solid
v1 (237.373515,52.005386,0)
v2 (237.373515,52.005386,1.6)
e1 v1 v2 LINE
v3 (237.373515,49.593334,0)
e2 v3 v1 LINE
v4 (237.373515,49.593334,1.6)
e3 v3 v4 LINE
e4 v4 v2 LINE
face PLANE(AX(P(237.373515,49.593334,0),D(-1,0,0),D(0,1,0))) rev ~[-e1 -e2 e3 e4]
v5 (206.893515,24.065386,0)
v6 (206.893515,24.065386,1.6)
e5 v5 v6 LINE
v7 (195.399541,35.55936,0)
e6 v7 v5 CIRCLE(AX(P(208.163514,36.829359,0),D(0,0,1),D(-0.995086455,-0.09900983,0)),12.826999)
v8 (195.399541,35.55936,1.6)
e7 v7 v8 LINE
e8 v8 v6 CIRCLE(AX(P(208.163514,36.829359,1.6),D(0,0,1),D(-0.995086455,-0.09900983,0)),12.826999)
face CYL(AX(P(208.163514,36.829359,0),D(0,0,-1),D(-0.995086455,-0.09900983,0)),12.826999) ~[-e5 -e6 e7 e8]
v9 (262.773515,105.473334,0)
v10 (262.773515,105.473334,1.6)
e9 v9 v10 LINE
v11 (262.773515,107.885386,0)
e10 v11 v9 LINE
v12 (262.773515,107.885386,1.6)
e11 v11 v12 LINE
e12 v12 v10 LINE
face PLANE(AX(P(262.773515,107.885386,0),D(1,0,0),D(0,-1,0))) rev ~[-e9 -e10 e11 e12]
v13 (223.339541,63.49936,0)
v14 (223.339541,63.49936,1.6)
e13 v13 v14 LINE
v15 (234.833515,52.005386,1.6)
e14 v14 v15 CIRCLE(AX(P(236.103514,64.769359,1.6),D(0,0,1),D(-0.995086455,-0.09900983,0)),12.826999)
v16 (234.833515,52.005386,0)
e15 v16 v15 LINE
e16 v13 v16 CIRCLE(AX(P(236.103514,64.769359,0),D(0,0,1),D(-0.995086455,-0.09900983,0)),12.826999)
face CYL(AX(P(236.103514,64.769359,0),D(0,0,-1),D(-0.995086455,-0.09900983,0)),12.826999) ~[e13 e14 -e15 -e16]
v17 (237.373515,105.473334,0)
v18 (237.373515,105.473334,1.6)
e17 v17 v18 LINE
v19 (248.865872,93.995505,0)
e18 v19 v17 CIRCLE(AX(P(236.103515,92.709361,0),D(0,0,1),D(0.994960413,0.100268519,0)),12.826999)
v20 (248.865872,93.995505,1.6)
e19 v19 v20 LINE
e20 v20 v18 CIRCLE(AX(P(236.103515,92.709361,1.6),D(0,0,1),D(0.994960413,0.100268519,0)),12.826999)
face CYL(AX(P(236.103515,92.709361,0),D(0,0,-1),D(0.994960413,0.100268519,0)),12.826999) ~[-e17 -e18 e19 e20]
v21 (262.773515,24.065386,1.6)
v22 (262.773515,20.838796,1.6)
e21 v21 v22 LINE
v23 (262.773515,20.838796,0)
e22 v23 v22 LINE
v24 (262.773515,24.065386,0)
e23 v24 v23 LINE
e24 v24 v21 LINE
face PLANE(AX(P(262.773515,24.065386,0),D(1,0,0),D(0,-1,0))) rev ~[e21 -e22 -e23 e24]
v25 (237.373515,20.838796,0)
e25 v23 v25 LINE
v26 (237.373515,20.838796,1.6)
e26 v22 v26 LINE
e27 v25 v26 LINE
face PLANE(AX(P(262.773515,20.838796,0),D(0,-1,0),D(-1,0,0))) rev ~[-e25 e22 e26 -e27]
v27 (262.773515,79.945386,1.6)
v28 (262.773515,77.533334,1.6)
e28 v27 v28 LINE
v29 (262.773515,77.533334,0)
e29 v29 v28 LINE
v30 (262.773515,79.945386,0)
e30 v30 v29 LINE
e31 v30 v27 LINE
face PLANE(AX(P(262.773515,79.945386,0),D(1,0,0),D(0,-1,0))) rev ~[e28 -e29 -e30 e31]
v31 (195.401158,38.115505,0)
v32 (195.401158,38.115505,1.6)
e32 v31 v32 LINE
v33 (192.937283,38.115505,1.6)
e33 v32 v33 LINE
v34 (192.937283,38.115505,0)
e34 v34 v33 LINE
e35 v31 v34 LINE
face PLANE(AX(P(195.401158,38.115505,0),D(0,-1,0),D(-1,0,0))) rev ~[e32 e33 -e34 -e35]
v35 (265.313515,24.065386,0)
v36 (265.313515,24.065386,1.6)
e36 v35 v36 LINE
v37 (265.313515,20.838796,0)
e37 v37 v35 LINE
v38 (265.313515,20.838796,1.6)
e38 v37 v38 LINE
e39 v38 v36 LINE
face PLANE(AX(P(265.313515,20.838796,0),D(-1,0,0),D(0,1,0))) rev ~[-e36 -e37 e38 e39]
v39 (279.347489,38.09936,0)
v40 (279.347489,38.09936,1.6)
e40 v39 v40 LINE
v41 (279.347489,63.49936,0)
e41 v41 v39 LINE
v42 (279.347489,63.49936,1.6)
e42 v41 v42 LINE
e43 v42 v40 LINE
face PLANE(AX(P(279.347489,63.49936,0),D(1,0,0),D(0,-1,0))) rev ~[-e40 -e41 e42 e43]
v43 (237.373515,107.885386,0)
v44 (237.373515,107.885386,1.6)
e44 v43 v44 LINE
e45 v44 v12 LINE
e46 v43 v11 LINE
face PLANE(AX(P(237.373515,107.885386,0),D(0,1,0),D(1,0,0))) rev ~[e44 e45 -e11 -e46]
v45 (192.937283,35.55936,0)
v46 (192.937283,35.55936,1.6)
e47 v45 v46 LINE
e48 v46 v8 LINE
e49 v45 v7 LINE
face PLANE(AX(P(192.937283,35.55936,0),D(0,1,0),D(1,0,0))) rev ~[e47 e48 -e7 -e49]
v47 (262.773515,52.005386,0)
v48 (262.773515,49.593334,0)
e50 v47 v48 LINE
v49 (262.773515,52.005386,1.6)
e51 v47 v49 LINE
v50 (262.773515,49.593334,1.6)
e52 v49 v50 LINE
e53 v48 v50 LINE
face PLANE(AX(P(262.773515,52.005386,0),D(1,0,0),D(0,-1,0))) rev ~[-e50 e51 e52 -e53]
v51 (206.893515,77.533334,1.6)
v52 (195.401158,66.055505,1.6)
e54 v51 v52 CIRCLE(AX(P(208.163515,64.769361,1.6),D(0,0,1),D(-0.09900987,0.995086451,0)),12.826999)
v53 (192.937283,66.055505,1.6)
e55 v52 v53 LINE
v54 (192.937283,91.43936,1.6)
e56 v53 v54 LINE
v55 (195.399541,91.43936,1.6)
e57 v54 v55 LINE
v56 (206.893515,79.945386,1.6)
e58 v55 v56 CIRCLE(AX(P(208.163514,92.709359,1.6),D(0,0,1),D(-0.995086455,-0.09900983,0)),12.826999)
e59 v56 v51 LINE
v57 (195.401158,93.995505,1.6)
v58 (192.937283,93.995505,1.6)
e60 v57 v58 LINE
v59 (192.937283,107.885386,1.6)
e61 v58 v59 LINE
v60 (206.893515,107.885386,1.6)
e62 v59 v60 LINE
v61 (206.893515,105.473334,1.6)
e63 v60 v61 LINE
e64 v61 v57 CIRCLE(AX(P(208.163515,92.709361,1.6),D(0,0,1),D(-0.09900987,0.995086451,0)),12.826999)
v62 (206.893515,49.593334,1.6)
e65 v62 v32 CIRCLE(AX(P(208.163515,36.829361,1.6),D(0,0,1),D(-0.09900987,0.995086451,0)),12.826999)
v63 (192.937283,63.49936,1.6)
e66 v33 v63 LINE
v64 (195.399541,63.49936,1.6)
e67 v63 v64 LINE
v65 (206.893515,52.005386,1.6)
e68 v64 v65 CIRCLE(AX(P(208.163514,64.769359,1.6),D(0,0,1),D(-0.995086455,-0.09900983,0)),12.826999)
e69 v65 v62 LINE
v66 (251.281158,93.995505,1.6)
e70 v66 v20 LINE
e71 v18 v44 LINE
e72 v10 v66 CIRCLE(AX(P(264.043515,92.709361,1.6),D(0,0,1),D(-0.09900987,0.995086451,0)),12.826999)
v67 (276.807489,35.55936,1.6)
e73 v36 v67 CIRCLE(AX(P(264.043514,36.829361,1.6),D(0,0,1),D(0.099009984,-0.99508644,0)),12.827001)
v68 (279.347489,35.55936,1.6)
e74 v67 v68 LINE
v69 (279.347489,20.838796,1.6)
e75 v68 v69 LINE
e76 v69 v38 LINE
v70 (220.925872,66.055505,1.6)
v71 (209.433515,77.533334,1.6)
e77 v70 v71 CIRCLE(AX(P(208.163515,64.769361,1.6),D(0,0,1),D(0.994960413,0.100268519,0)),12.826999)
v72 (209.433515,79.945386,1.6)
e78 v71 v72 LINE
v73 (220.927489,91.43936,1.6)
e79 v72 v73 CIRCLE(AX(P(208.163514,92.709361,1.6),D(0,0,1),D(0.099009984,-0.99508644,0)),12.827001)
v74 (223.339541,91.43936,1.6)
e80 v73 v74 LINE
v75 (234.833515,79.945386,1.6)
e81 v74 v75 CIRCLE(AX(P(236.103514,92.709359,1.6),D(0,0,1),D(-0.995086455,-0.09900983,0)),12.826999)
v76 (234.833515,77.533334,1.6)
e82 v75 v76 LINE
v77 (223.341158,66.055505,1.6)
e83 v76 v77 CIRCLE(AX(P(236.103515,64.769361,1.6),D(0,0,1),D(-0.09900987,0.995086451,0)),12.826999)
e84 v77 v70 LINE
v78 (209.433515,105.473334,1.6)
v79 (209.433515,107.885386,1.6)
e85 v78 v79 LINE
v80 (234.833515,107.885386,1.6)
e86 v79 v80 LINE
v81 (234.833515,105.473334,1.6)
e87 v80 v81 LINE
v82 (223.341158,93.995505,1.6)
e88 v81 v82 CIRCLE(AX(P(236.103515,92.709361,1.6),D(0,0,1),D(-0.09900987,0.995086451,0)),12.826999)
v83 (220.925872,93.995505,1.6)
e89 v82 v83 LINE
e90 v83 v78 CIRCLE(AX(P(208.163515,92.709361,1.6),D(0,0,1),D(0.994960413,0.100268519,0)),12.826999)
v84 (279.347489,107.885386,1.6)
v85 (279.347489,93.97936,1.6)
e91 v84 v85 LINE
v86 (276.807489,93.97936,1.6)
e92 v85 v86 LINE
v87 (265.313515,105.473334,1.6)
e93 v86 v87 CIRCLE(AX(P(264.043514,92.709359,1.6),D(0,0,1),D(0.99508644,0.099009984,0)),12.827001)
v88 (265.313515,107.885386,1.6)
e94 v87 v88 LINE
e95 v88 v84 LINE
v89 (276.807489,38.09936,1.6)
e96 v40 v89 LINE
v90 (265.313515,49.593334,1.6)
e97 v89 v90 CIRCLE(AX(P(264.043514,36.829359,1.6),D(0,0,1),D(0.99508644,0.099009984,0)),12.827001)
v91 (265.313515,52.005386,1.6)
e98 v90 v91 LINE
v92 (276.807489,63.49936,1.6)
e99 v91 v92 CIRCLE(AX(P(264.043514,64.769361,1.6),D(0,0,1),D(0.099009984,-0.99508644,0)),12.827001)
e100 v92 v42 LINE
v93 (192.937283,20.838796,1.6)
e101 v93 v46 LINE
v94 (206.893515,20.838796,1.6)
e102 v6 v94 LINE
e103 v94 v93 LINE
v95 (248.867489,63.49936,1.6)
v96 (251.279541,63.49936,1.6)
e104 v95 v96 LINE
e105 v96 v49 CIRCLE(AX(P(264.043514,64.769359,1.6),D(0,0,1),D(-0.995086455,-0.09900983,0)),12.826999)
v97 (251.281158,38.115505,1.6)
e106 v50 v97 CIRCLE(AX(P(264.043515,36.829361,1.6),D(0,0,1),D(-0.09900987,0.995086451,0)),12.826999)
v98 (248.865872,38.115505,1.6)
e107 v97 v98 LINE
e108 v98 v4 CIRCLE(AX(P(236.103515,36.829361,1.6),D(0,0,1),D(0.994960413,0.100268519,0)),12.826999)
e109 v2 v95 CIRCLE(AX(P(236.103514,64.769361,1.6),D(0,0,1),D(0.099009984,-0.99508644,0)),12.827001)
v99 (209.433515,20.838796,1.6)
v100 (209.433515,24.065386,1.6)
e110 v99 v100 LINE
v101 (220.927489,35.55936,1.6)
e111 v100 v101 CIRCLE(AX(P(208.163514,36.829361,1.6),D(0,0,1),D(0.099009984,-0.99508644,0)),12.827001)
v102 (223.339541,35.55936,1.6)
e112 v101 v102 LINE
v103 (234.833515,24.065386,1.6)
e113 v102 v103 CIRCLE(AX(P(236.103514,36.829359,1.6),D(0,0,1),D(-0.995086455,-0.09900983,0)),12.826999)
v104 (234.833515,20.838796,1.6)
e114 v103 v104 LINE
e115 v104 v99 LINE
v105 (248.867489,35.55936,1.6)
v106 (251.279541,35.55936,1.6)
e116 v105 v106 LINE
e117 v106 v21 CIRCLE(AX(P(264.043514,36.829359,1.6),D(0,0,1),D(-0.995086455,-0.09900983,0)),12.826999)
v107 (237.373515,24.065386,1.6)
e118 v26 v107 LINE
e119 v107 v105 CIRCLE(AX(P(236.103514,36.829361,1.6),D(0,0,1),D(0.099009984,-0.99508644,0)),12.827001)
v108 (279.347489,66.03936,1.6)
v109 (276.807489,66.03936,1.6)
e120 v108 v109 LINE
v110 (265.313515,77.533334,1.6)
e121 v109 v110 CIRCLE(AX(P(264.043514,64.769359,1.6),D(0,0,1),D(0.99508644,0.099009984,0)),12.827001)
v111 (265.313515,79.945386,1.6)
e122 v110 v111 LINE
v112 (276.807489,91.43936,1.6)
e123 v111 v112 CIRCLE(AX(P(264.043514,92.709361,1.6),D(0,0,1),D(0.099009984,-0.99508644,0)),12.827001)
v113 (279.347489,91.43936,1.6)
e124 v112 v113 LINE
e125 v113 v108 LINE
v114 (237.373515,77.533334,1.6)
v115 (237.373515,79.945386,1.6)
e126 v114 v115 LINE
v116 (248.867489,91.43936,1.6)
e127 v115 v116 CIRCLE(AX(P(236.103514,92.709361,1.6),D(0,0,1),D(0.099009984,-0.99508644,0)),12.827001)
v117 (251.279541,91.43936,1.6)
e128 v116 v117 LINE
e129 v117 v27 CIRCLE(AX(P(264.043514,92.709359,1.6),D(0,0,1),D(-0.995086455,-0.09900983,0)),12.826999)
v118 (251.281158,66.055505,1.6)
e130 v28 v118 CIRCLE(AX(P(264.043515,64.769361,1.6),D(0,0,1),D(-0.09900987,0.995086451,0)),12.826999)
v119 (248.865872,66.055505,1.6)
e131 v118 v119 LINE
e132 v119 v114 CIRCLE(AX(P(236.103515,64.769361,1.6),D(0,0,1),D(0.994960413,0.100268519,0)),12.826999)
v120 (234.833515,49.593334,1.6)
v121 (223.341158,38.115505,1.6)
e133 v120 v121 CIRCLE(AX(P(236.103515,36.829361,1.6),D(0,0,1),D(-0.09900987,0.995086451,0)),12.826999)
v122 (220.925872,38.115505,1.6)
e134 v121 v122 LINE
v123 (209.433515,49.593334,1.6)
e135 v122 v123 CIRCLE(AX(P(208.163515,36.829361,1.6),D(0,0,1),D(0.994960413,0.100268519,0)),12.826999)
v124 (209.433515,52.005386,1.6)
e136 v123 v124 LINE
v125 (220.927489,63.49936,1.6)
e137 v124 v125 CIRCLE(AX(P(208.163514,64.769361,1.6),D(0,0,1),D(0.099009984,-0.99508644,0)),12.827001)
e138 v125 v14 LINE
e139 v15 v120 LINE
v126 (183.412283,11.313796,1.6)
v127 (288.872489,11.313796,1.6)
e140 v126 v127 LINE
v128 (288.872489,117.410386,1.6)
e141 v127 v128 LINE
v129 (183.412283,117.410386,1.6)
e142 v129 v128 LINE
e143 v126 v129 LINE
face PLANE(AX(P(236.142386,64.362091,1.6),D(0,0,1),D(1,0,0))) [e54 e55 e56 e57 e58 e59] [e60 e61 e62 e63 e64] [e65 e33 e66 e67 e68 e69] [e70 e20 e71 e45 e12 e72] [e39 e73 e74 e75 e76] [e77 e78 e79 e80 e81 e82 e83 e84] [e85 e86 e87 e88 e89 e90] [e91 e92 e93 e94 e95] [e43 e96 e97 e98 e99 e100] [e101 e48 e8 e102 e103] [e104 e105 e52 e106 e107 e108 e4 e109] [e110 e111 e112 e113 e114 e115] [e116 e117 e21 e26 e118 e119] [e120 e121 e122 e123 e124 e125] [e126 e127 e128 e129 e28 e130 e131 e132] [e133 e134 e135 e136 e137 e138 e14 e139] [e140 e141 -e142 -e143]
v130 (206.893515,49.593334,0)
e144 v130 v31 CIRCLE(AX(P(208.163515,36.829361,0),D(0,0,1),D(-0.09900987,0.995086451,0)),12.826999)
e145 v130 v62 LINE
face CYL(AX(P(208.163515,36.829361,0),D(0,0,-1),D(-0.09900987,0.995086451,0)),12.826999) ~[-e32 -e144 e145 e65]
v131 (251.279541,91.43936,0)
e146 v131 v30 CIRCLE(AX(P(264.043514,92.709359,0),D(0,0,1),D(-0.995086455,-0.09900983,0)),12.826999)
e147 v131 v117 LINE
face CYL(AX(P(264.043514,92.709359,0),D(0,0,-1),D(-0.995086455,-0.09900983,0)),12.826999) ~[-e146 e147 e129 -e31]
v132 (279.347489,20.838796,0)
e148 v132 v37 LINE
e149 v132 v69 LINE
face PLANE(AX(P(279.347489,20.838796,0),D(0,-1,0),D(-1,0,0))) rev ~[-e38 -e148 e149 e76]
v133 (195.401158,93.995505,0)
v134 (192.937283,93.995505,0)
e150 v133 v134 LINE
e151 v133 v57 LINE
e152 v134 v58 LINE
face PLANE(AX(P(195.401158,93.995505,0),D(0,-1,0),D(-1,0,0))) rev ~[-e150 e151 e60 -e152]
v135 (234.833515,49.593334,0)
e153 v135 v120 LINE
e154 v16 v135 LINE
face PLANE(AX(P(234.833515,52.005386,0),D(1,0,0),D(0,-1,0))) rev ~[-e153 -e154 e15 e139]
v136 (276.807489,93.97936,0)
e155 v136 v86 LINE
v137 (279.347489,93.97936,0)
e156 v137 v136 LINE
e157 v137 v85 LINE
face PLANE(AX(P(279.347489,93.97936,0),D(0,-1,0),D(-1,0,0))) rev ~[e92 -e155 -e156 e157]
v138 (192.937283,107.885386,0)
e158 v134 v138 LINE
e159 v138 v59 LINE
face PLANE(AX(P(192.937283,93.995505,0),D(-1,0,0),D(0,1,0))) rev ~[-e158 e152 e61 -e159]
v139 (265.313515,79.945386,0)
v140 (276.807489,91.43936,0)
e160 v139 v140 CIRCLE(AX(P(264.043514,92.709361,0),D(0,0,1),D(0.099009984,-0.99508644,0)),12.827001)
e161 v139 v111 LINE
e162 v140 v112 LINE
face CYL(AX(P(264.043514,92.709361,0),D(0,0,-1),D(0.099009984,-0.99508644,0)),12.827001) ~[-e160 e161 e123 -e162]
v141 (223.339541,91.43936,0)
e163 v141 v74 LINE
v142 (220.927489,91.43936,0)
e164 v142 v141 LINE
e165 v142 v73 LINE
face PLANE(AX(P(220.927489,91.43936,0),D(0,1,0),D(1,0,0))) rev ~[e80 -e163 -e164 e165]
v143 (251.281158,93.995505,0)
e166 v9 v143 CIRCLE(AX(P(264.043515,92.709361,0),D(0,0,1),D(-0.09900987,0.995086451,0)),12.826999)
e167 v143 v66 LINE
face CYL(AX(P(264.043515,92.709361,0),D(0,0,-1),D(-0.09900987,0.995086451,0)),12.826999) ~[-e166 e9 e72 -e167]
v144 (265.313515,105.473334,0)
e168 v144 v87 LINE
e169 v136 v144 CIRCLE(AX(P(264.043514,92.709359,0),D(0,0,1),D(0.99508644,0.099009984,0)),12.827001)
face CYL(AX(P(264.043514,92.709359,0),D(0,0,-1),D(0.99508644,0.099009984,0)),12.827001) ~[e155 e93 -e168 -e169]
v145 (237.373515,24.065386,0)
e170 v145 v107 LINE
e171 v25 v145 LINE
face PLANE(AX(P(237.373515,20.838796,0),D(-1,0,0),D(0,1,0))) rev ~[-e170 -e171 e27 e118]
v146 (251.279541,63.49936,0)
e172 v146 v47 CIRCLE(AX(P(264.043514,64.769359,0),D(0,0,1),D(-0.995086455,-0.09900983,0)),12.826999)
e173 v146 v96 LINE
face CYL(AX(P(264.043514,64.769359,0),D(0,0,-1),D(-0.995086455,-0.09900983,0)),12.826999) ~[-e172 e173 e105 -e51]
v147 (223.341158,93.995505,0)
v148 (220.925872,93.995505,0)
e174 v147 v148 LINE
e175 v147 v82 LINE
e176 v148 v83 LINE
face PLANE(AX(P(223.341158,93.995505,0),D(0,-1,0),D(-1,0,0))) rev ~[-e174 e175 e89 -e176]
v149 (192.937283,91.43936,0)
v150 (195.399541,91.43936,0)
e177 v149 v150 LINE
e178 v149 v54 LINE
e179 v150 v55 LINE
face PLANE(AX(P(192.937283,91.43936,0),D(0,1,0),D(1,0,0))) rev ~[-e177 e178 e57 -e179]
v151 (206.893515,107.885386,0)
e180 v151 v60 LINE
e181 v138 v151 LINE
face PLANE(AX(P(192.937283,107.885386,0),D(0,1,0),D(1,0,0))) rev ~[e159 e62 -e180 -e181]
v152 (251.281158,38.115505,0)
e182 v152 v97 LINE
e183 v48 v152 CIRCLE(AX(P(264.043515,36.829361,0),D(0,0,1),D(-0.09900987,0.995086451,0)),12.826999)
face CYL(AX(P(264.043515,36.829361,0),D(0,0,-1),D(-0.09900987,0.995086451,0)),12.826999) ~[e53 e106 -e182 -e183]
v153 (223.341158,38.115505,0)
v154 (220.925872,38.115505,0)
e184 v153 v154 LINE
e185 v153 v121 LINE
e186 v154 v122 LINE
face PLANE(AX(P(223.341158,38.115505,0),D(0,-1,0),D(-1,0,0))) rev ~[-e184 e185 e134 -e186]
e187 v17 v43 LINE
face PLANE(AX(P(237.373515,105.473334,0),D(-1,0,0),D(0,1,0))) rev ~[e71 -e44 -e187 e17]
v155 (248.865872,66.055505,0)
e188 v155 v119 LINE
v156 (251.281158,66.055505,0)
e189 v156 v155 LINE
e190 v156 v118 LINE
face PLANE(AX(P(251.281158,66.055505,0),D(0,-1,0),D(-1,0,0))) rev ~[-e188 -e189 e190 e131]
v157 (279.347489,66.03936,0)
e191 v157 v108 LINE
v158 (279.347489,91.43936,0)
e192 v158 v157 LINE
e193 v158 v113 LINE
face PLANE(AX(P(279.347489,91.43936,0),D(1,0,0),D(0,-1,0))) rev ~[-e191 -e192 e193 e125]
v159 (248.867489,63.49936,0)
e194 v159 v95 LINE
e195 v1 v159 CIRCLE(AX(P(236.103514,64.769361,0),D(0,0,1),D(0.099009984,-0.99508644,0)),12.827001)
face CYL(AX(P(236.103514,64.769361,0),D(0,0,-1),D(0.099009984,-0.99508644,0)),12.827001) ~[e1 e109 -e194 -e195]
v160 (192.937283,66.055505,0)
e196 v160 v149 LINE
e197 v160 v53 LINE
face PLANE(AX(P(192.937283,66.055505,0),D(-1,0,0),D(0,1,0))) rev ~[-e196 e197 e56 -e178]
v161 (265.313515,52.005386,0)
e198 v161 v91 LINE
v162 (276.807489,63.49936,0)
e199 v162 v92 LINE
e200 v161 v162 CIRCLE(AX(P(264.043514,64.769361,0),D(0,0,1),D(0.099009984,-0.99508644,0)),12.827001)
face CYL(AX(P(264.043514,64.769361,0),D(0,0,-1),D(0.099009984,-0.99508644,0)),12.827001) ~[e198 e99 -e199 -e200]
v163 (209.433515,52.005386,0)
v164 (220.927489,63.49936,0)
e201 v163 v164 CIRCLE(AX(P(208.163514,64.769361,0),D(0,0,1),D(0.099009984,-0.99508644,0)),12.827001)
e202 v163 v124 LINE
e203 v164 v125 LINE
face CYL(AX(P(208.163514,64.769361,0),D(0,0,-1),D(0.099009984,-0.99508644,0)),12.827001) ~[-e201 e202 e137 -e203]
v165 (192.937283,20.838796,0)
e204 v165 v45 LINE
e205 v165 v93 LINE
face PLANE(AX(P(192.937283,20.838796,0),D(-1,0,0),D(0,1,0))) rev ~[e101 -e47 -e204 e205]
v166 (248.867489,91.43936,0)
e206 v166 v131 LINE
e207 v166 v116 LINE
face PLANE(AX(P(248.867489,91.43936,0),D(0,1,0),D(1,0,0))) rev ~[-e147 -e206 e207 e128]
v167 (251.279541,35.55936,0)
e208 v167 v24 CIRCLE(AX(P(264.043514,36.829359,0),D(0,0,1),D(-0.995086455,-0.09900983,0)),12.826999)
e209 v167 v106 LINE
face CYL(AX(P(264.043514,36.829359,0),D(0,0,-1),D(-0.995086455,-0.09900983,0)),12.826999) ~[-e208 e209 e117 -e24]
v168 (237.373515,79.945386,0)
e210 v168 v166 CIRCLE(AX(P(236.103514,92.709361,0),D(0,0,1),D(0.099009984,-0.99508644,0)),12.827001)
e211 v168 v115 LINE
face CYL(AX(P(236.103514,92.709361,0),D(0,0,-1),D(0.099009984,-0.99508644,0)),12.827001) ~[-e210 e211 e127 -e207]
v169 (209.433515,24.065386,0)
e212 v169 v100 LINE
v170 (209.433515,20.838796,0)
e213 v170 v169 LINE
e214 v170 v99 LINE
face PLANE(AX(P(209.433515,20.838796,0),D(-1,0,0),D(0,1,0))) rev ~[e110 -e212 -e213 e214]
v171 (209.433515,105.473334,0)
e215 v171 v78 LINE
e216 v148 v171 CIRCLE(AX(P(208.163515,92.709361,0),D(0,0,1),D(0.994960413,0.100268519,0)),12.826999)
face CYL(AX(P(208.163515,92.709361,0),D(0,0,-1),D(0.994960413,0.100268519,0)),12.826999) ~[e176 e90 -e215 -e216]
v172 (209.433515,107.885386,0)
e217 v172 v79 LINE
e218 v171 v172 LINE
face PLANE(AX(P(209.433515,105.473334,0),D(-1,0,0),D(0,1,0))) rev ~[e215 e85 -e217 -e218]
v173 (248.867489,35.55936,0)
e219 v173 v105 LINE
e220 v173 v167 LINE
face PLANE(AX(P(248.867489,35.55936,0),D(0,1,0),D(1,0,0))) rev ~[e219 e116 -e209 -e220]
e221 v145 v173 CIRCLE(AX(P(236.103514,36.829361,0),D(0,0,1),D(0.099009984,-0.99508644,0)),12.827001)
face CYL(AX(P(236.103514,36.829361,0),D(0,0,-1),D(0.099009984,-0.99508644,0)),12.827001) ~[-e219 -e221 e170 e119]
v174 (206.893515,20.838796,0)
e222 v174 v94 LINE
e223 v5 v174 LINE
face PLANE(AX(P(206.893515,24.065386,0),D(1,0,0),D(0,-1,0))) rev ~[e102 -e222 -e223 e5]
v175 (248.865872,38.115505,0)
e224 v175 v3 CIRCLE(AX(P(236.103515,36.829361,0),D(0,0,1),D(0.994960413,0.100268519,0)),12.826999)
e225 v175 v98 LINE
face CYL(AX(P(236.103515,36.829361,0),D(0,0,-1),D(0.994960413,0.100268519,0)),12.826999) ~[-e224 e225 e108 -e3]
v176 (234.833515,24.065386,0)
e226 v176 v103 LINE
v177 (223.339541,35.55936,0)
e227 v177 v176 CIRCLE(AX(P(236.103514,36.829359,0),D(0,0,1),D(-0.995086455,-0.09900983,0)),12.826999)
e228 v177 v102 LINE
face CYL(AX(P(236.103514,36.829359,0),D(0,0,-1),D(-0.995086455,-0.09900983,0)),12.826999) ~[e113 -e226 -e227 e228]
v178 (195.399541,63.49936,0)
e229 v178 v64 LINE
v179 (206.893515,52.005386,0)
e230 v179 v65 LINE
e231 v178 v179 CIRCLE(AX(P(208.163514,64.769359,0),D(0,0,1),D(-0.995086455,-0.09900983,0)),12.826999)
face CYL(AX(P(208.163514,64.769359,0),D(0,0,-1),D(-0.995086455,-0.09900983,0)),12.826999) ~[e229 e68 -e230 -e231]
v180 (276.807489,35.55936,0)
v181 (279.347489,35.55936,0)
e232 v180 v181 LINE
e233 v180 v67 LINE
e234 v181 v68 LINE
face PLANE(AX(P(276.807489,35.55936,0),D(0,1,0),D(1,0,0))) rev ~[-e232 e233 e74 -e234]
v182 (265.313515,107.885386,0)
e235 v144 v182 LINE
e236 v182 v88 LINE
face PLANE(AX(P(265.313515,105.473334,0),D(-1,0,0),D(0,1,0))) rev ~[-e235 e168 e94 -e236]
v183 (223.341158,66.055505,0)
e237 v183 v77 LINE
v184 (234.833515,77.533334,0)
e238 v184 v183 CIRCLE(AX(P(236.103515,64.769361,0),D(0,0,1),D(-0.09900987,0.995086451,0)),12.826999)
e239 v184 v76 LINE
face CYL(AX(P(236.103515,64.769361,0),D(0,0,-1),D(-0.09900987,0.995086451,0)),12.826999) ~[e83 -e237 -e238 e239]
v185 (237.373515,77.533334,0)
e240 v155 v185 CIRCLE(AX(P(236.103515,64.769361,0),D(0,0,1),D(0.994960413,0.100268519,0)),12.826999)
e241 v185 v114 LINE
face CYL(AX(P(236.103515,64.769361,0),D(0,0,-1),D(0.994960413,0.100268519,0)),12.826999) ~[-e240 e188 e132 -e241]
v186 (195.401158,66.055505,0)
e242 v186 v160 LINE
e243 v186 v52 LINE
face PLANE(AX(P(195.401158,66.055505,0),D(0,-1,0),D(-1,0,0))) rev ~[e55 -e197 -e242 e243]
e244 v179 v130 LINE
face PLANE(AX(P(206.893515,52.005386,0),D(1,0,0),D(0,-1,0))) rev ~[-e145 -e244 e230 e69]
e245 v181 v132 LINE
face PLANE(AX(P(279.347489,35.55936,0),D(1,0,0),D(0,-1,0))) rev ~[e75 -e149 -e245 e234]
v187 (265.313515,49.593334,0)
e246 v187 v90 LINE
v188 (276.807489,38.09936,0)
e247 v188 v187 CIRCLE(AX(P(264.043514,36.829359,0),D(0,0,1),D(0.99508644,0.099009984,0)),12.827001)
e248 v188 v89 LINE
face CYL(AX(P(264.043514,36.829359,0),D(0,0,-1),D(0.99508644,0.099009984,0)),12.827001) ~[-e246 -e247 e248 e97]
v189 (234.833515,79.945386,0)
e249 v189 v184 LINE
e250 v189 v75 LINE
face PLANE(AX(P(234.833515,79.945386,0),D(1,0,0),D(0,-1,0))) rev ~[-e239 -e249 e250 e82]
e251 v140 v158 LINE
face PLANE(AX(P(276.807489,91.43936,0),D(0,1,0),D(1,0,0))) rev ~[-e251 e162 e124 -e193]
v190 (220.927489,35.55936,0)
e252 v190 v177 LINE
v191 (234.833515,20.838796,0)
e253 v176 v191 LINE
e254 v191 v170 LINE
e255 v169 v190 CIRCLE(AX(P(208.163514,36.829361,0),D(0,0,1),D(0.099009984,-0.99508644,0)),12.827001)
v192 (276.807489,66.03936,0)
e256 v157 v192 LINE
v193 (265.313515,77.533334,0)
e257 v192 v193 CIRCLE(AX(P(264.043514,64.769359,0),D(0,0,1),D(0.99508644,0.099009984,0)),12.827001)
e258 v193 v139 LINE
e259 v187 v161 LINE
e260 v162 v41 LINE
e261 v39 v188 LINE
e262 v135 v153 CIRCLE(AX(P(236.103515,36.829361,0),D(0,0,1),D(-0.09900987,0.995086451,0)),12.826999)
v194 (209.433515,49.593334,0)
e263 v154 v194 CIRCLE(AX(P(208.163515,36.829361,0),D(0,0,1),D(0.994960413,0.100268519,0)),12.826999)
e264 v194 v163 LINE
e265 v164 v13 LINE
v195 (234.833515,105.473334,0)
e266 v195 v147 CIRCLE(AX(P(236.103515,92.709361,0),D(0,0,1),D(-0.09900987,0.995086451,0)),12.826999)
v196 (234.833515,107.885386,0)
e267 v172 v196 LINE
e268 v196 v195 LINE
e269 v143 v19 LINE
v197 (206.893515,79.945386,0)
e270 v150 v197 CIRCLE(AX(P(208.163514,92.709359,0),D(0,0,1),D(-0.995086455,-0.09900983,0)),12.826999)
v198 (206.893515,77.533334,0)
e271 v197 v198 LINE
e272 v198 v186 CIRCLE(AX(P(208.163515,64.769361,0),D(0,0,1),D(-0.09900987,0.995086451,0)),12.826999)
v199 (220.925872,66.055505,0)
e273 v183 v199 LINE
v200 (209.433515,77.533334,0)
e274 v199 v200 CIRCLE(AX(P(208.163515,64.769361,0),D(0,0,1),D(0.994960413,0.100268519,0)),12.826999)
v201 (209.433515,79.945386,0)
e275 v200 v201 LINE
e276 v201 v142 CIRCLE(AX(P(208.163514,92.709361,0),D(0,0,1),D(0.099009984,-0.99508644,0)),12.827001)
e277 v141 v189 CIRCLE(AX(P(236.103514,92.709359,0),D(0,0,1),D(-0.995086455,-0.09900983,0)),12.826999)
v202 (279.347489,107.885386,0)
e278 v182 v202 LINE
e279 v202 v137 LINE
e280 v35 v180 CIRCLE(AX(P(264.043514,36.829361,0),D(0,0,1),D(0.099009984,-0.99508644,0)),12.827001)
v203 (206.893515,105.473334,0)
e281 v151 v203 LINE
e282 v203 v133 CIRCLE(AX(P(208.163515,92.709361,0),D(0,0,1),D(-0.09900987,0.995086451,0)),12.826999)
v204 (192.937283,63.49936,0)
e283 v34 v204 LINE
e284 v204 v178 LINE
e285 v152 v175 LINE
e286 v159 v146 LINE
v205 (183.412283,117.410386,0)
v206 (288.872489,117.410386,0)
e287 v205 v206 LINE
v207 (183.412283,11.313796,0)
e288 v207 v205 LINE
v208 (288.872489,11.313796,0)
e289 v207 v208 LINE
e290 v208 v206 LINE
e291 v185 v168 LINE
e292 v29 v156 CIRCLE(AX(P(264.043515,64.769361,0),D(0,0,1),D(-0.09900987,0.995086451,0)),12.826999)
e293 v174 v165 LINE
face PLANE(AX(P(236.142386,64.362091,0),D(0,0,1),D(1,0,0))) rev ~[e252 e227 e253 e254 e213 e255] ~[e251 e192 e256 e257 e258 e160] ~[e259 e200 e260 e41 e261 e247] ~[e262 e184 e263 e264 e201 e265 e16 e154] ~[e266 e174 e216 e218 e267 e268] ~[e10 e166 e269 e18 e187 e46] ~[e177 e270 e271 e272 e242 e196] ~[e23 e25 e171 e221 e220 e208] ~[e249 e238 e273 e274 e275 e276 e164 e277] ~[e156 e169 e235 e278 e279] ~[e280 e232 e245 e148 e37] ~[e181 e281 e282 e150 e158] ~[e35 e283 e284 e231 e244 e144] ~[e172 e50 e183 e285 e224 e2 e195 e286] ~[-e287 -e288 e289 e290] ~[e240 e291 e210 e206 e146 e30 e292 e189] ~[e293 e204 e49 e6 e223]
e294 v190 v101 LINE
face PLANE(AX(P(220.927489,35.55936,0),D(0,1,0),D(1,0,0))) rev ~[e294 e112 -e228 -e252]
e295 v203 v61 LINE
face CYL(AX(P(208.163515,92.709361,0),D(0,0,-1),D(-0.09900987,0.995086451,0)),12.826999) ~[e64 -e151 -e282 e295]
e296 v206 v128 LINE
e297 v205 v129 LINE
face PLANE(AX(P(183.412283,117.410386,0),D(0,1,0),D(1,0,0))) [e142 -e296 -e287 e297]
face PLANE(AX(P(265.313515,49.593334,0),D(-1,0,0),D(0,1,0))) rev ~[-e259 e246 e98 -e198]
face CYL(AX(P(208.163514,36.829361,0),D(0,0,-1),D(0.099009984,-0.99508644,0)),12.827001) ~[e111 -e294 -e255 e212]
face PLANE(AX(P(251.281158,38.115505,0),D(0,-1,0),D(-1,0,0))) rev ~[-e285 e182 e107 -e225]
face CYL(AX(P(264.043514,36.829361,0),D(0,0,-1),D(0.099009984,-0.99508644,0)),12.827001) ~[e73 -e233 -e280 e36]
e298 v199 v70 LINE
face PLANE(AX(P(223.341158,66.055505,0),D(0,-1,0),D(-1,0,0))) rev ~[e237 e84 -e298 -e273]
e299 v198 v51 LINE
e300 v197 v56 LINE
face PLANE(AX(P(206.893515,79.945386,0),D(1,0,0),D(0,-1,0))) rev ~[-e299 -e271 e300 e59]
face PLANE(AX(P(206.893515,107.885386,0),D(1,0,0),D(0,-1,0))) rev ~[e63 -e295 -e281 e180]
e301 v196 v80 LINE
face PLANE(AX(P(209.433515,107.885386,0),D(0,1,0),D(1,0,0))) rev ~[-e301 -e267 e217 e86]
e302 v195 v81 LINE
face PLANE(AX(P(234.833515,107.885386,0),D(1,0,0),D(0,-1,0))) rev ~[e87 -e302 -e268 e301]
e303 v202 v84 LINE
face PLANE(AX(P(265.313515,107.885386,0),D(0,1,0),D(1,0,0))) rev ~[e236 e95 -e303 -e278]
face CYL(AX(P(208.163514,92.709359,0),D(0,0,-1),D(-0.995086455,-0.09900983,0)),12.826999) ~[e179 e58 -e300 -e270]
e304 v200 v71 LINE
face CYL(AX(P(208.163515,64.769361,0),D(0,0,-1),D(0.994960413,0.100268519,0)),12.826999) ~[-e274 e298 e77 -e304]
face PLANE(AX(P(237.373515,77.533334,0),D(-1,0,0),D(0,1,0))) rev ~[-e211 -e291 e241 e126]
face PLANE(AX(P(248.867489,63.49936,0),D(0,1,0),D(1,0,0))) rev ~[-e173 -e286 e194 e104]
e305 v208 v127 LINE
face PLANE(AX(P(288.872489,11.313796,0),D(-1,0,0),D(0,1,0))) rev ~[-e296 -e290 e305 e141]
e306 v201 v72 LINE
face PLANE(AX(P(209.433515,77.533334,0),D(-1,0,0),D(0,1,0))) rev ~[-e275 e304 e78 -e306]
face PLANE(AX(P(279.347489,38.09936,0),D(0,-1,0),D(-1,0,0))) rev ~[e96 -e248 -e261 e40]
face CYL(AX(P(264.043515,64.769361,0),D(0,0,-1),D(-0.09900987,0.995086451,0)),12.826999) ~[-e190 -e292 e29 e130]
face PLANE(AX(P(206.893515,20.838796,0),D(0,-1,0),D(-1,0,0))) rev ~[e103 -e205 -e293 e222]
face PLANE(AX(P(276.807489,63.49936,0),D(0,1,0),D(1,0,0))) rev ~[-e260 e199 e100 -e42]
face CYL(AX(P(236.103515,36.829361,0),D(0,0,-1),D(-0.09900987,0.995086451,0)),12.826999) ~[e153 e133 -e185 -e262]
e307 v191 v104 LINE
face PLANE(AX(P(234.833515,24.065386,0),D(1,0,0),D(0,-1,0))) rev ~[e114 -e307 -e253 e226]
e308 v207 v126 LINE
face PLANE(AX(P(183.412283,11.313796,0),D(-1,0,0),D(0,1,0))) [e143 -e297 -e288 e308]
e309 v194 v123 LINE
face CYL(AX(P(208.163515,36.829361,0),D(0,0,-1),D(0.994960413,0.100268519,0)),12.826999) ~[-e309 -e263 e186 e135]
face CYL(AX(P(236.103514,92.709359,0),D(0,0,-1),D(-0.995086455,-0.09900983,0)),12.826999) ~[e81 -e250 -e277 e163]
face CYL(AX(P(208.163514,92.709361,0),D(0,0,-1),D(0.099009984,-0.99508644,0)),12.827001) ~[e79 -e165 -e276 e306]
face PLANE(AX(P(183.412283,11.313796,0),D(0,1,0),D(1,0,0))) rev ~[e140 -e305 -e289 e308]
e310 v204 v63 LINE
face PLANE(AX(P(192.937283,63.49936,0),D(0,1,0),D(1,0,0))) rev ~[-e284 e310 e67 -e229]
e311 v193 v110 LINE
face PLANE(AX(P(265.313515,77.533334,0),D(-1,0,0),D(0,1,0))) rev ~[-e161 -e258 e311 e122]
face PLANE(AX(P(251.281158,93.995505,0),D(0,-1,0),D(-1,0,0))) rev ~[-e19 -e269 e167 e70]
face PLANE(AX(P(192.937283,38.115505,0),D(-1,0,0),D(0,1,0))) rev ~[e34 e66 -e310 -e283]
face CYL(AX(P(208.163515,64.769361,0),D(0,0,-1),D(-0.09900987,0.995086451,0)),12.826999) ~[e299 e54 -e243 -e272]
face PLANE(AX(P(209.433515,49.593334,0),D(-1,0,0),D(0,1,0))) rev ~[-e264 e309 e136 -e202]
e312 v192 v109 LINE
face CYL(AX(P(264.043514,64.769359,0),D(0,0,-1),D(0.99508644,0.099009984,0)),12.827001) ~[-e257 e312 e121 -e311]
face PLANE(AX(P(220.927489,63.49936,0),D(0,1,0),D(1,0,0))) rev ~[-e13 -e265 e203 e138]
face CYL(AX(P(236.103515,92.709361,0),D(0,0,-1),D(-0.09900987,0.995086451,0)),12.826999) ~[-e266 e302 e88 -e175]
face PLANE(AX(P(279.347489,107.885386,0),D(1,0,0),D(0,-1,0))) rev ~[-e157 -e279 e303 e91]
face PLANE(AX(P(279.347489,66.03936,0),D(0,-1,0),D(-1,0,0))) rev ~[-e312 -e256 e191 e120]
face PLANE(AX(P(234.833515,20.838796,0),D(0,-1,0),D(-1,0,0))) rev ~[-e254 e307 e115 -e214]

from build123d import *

# Parameters (mm, degrees)
F0_W     = 105.460206
F0_H     = 106.09659
F1_DEPTH = 1.6


with BuildPart() as f1:
    # F0 (on Top) → F1 (new body)
    with BuildSketch(Plane.XY):
        with Locations((236.142386, 64.362091)):
            Rectangle(F0_W, F0_H)
        with BuildLine():
            Line((192.937283, 35.55936), (195.399541, 35.55936))
            ThreePointArc((195.399541, 35.55936), (199.093456, 27.759301), (206.893515, 24.065386))
            Line((206.893515, 24.065386), (206.893515, 20.838796))
            Line((206.893515, 20.838796), (192.937283, 20.838796))
            Line((192.937283, 20.838796), (192.937283, 35.55936))
        make_face(mode=Mode.SUBTRACT)
        with BuildLine():
            Line((234.833515, 20.838796), (209.433515, 20.838796))
            Line((209.433515, 20.838796), (209.433515, 24.065386))
            ThreePointArc((209.433515, 24.065386), (217.233573, 27.759301), (220.927489, 35.55936))
            Line((220.927489, 35.55936), (223.339541, 35.55936))
            ThreePointArc((223.339541, 35.55936), (227.033456, 27.759301), (234.833515, 24.065386))
            Line((234.833515, 24.065386), (234.833515, 20.838796))
        make_face(mode=Mode.SUBTRACT)
        with BuildLine():
            Line((206.893515, 52.005386), (206.893515, 49.593334))
            ThreePointArc((206.893515, 49.593334), (199.099195, 45.905154), (195.401158, 38.115505))
            Line((195.401158, 38.115505), (192.937283, 38.115505))
            Line((192.937283, 38.115505), (192.937283, 63.49936))
            Line((192.937283, 63.49936), (195.399541, 63.49936))
            ThreePointArc((195.399541, 63.49936), (199.093456, 55.699301), (206.893515, 52.005386))
        make_face(mode=Mode.SUBTRACT)
        with BuildLine():
            Line((223.341158, 38.115505), (220.925872, 38.115505))
            ThreePointArc((220.925872, 38.115505), (217.227835, 45.905154), (209.433515, 49.593334))
            Line((209.433515, 49.593334), (209.433515, 52.005386))
            ThreePointArc((209.433515, 52.005386), (217.233573, 55.699301), (220.927489, 63.49936))
            Line((220.927489, 63.49936), (223.339541, 63.49936))
            ThreePointArc((223.339541, 63.49936), (227.033456, 55.699301), (234.833515, 52.005386))
            Line((234.833515, 52.005386), (234.833515, 49.593334))
            ThreePointArc((234.833515, 49.593334), (227.039195, 45.905154), (223.341158, 38.115505))
        make_face(mode=Mode.SUBTRACT)
        with BuildLine():
            Line((237.373515, 20.838796), (237.373515, 24.065386))
            ThreePointArc((237.373515, 24.065386), (245.173573, 27.759301), (248.867489, 35.55936))
            Line((248.867489, 35.55936), (251.279541, 35.55936))
            ThreePointArc((251.279541, 35.55936), (254.973456, 27.759301), (262.773515, 24.065386))
            Line((262.773515, 24.065386), (262.773515, 20.838796))
            Line((262.773515, 20.838796), (237.373515, 20.838796))
        make_face(mode=Mode.SUBTRACT)
        with BuildLine():
            Line((265.313515, 20.838796), (265.313515, 24.065386))
            ThreePointArc((265.313515, 24.065386), (273.113573, 27.759301), (276.807489, 35.55936))
            Line((276.807489, 35.55936), (279.347489, 35.55936))
            Line((279.347489, 35.55936), (279.347489, 20.838796))
            Line((279.347489, 20.838796), (265.313515, 20.838796))
        make_face(mode=Mode.SUBTRACT)
        with BuildLine():
            Line((251.281158, 38.115505), (248.865872, 38.115505))
            ThreePointArc((248.865872, 38.115505), (245.167835, 45.905154), (237.373515, 49.593334))
            Line((237.373515, 49.593334), (237.373515, 52.005386))
            ThreePointArc((237.373515, 52.005386), (245.173573, 55.699301), (248.867489, 63.49936))
            Line((248.867489, 63.49936), (251.279541, 63.49936))
            ThreePointArc((251.279541, 63.49936), (254.973456, 55.699301), (262.773515, 52.005386))
            Line((262.773515, 52.005386), (262.773515, 49.593334))
            ThreePointArc((262.773515, 49.593334), (254.979195, 45.905154), (251.281158, 38.115505))
        make_face(mode=Mode.SUBTRACT)
        with BuildLine():
            Line((279.347489, 38.09936), (276.807489, 38.09936))
            ThreePointArc((276.807489, 38.09936), (273.113573, 45.899419), (265.313515, 49.593334))
            Line((265.313515, 49.593334), (265.313515, 52.005386))
            ThreePointArc((265.313515, 52.005386), (273.113573, 55.699301), (276.807489, 63.49936))
            Line((276.807489, 63.49936), (279.347489, 63.49936))
            Line((279.347489, 63.49936), (279.347489, 38.09936))
        make_face(mode=Mode.SUBTRACT)
        with BuildLine():
            Line((206.893515, 79.945386), (206.893515, 77.533334))
            ThreePointArc((206.893515, 77.533334), (199.099195, 73.845154), (195.401158, 66.055505))
            Line((195.401158, 66.055505), (192.937283, 66.055505))
            Line((192.937283, 66.055505), (192.937283, 91.43936))
            Line((192.937283, 91.43936), (195.399541, 91.43936))
            ThreePointArc((195.399541, 91.43936), (199.093456, 83.639301), (206.893515, 79.945386))
        make_face(mode=Mode.SUBTRACT)
        with BuildLine():
            Line((223.341158, 66.055505), (220.925872, 66.055505))
            ThreePointArc((220.925872, 66.055505), (217.227835, 73.845154), (209.433515, 77.533334))
            Line((209.433515, 77.533334), (209.433515, 79.945386))
            ThreePointArc((209.433515, 79.945386), (217.233573, 83.639301), (220.927489, 91.43936))
            Line((220.927489, 91.43936), (223.339541, 91.43936))
            ThreePointArc((223.339541, 91.43936), (227.033456, 83.639301), (234.833515, 79.945386))
            Line((234.833515, 79.945386), (234.833515, 77.533334))
            ThreePointArc((234.833515, 77.533334), (227.039195, 73.845154), (223.341158, 66.055505))
        make_face(mode=Mode.SUBTRACT)
        with BuildLine():
            Line((206.893515, 107.885386), (206.893515, 105.473334))
            ThreePointArc((206.893515, 105.473334), (199.099195, 101.785154), (195.401158, 93.995505))
            Line((195.401158, 93.995505), (192.937283, 93.995505))
            Line((192.937283, 93.995505), (192.937283, 107.885386))
            Line((192.937283, 107.885386), (206.893515, 107.885386))
        make_face(mode=Mode.SUBTRACT)
        with BuildLine():
            Line((223.341158, 93.995505), (220.925872, 93.995505))
            ThreePointArc((220.925872, 93.995505), (217.227835, 101.785154), (209.433515, 105.473334))
            Line((209.433515, 105.473334), (209.433515, 107.885386))
            Line((209.433515, 107.885386), (234.833515, 107.885386))
            Line((234.833515, 107.885386), (234.833515, 105.473334))
            ThreePointArc((234.833515, 105.473334), (227.039195, 101.785154), (223.341158, 93.995505))
        make_face(mode=Mode.SUBTRACT)
        with BuildLine():
            Line((251.281158, 66.055505), (248.865872, 66.055505))
            ThreePointArc((248.865872, 66.055505), (245.167835, 73.845154), (237.373515, 77.533334))
            Line((237.373515, 77.533334), (237.373515, 79.945386))
            ThreePointArc((237.373515, 79.945386), (245.173573, 83.639301), (248.867489, 91.43936))
            Line((248.867489, 91.43936), (251.279541, 91.43936))
            ThreePointArc((251.279541, 91.43936), (254.973456, 83.639301), (262.773515, 79.945386))
            Line((262.773515, 79.945386), (262.773515, 77.533334))
            ThreePointArc((262.773515, 77.533334), (254.979195, 73.845154), (251.281158, 66.055505))
        make_face(mode=Mode.SUBTRACT)
        with BuildLine():
            Line((279.347489, 66.03936), (276.807489, 66.03936))
            ThreePointArc((276.807489, 66.03936), (273.113573, 73.839419), (265.313515, 77.533334))
            Line((265.313515, 77.533334), (265.313515, 79.945386))
            ThreePointArc((265.313515, 79.945386), (273.113573, 83.639301), (276.807489, 91.43936))
            Line((276.807489, 91.43936), (279.347489, 91.43936))
            Line((279.347489, 91.43936), (279.347489, 66.03936))
        make_face(mode=Mode.SUBTRACT)
        with BuildLine():
            Line((251.281158, 93.995505), (248.865872, 93.995505))
            ThreePointArc((248.865872, 93.995505), (245.167835, 101.785154), (237.373515, 105.473334))
            Line((237.373515, 105.473334), (237.373515, 107.885386))
            Line((237.373515, 107.885386), (262.773515, 107.885386))
            Line((262.773515, 107.885386), (262.773515, 105.473334))
            ThreePointArc((262.773515, 105.473334), (254.979195, 101.785154), (251.281158, 93.995505))
        make_face(mode=Mode.SUBTRACT)
        with BuildLine():
            Line((279.347489, 93.97936), (276.807489, 93.97936))
            ThreePointArc((276.807489, 93.97936), (273.113573, 101.779419), (265.313515, 105.473334))
            Line((265.313515, 105.473334), (265.313515, 107.885386))
            Line((265.313515, 107.885386), (279.347489, 107.885386))
            Line((279.347489, 107.885386), (279.347489, 93.97936))
        make_face(mode=Mode.SUBTRACT)
    extrude(amount=F1_DEPTH)


solid = f1.part
